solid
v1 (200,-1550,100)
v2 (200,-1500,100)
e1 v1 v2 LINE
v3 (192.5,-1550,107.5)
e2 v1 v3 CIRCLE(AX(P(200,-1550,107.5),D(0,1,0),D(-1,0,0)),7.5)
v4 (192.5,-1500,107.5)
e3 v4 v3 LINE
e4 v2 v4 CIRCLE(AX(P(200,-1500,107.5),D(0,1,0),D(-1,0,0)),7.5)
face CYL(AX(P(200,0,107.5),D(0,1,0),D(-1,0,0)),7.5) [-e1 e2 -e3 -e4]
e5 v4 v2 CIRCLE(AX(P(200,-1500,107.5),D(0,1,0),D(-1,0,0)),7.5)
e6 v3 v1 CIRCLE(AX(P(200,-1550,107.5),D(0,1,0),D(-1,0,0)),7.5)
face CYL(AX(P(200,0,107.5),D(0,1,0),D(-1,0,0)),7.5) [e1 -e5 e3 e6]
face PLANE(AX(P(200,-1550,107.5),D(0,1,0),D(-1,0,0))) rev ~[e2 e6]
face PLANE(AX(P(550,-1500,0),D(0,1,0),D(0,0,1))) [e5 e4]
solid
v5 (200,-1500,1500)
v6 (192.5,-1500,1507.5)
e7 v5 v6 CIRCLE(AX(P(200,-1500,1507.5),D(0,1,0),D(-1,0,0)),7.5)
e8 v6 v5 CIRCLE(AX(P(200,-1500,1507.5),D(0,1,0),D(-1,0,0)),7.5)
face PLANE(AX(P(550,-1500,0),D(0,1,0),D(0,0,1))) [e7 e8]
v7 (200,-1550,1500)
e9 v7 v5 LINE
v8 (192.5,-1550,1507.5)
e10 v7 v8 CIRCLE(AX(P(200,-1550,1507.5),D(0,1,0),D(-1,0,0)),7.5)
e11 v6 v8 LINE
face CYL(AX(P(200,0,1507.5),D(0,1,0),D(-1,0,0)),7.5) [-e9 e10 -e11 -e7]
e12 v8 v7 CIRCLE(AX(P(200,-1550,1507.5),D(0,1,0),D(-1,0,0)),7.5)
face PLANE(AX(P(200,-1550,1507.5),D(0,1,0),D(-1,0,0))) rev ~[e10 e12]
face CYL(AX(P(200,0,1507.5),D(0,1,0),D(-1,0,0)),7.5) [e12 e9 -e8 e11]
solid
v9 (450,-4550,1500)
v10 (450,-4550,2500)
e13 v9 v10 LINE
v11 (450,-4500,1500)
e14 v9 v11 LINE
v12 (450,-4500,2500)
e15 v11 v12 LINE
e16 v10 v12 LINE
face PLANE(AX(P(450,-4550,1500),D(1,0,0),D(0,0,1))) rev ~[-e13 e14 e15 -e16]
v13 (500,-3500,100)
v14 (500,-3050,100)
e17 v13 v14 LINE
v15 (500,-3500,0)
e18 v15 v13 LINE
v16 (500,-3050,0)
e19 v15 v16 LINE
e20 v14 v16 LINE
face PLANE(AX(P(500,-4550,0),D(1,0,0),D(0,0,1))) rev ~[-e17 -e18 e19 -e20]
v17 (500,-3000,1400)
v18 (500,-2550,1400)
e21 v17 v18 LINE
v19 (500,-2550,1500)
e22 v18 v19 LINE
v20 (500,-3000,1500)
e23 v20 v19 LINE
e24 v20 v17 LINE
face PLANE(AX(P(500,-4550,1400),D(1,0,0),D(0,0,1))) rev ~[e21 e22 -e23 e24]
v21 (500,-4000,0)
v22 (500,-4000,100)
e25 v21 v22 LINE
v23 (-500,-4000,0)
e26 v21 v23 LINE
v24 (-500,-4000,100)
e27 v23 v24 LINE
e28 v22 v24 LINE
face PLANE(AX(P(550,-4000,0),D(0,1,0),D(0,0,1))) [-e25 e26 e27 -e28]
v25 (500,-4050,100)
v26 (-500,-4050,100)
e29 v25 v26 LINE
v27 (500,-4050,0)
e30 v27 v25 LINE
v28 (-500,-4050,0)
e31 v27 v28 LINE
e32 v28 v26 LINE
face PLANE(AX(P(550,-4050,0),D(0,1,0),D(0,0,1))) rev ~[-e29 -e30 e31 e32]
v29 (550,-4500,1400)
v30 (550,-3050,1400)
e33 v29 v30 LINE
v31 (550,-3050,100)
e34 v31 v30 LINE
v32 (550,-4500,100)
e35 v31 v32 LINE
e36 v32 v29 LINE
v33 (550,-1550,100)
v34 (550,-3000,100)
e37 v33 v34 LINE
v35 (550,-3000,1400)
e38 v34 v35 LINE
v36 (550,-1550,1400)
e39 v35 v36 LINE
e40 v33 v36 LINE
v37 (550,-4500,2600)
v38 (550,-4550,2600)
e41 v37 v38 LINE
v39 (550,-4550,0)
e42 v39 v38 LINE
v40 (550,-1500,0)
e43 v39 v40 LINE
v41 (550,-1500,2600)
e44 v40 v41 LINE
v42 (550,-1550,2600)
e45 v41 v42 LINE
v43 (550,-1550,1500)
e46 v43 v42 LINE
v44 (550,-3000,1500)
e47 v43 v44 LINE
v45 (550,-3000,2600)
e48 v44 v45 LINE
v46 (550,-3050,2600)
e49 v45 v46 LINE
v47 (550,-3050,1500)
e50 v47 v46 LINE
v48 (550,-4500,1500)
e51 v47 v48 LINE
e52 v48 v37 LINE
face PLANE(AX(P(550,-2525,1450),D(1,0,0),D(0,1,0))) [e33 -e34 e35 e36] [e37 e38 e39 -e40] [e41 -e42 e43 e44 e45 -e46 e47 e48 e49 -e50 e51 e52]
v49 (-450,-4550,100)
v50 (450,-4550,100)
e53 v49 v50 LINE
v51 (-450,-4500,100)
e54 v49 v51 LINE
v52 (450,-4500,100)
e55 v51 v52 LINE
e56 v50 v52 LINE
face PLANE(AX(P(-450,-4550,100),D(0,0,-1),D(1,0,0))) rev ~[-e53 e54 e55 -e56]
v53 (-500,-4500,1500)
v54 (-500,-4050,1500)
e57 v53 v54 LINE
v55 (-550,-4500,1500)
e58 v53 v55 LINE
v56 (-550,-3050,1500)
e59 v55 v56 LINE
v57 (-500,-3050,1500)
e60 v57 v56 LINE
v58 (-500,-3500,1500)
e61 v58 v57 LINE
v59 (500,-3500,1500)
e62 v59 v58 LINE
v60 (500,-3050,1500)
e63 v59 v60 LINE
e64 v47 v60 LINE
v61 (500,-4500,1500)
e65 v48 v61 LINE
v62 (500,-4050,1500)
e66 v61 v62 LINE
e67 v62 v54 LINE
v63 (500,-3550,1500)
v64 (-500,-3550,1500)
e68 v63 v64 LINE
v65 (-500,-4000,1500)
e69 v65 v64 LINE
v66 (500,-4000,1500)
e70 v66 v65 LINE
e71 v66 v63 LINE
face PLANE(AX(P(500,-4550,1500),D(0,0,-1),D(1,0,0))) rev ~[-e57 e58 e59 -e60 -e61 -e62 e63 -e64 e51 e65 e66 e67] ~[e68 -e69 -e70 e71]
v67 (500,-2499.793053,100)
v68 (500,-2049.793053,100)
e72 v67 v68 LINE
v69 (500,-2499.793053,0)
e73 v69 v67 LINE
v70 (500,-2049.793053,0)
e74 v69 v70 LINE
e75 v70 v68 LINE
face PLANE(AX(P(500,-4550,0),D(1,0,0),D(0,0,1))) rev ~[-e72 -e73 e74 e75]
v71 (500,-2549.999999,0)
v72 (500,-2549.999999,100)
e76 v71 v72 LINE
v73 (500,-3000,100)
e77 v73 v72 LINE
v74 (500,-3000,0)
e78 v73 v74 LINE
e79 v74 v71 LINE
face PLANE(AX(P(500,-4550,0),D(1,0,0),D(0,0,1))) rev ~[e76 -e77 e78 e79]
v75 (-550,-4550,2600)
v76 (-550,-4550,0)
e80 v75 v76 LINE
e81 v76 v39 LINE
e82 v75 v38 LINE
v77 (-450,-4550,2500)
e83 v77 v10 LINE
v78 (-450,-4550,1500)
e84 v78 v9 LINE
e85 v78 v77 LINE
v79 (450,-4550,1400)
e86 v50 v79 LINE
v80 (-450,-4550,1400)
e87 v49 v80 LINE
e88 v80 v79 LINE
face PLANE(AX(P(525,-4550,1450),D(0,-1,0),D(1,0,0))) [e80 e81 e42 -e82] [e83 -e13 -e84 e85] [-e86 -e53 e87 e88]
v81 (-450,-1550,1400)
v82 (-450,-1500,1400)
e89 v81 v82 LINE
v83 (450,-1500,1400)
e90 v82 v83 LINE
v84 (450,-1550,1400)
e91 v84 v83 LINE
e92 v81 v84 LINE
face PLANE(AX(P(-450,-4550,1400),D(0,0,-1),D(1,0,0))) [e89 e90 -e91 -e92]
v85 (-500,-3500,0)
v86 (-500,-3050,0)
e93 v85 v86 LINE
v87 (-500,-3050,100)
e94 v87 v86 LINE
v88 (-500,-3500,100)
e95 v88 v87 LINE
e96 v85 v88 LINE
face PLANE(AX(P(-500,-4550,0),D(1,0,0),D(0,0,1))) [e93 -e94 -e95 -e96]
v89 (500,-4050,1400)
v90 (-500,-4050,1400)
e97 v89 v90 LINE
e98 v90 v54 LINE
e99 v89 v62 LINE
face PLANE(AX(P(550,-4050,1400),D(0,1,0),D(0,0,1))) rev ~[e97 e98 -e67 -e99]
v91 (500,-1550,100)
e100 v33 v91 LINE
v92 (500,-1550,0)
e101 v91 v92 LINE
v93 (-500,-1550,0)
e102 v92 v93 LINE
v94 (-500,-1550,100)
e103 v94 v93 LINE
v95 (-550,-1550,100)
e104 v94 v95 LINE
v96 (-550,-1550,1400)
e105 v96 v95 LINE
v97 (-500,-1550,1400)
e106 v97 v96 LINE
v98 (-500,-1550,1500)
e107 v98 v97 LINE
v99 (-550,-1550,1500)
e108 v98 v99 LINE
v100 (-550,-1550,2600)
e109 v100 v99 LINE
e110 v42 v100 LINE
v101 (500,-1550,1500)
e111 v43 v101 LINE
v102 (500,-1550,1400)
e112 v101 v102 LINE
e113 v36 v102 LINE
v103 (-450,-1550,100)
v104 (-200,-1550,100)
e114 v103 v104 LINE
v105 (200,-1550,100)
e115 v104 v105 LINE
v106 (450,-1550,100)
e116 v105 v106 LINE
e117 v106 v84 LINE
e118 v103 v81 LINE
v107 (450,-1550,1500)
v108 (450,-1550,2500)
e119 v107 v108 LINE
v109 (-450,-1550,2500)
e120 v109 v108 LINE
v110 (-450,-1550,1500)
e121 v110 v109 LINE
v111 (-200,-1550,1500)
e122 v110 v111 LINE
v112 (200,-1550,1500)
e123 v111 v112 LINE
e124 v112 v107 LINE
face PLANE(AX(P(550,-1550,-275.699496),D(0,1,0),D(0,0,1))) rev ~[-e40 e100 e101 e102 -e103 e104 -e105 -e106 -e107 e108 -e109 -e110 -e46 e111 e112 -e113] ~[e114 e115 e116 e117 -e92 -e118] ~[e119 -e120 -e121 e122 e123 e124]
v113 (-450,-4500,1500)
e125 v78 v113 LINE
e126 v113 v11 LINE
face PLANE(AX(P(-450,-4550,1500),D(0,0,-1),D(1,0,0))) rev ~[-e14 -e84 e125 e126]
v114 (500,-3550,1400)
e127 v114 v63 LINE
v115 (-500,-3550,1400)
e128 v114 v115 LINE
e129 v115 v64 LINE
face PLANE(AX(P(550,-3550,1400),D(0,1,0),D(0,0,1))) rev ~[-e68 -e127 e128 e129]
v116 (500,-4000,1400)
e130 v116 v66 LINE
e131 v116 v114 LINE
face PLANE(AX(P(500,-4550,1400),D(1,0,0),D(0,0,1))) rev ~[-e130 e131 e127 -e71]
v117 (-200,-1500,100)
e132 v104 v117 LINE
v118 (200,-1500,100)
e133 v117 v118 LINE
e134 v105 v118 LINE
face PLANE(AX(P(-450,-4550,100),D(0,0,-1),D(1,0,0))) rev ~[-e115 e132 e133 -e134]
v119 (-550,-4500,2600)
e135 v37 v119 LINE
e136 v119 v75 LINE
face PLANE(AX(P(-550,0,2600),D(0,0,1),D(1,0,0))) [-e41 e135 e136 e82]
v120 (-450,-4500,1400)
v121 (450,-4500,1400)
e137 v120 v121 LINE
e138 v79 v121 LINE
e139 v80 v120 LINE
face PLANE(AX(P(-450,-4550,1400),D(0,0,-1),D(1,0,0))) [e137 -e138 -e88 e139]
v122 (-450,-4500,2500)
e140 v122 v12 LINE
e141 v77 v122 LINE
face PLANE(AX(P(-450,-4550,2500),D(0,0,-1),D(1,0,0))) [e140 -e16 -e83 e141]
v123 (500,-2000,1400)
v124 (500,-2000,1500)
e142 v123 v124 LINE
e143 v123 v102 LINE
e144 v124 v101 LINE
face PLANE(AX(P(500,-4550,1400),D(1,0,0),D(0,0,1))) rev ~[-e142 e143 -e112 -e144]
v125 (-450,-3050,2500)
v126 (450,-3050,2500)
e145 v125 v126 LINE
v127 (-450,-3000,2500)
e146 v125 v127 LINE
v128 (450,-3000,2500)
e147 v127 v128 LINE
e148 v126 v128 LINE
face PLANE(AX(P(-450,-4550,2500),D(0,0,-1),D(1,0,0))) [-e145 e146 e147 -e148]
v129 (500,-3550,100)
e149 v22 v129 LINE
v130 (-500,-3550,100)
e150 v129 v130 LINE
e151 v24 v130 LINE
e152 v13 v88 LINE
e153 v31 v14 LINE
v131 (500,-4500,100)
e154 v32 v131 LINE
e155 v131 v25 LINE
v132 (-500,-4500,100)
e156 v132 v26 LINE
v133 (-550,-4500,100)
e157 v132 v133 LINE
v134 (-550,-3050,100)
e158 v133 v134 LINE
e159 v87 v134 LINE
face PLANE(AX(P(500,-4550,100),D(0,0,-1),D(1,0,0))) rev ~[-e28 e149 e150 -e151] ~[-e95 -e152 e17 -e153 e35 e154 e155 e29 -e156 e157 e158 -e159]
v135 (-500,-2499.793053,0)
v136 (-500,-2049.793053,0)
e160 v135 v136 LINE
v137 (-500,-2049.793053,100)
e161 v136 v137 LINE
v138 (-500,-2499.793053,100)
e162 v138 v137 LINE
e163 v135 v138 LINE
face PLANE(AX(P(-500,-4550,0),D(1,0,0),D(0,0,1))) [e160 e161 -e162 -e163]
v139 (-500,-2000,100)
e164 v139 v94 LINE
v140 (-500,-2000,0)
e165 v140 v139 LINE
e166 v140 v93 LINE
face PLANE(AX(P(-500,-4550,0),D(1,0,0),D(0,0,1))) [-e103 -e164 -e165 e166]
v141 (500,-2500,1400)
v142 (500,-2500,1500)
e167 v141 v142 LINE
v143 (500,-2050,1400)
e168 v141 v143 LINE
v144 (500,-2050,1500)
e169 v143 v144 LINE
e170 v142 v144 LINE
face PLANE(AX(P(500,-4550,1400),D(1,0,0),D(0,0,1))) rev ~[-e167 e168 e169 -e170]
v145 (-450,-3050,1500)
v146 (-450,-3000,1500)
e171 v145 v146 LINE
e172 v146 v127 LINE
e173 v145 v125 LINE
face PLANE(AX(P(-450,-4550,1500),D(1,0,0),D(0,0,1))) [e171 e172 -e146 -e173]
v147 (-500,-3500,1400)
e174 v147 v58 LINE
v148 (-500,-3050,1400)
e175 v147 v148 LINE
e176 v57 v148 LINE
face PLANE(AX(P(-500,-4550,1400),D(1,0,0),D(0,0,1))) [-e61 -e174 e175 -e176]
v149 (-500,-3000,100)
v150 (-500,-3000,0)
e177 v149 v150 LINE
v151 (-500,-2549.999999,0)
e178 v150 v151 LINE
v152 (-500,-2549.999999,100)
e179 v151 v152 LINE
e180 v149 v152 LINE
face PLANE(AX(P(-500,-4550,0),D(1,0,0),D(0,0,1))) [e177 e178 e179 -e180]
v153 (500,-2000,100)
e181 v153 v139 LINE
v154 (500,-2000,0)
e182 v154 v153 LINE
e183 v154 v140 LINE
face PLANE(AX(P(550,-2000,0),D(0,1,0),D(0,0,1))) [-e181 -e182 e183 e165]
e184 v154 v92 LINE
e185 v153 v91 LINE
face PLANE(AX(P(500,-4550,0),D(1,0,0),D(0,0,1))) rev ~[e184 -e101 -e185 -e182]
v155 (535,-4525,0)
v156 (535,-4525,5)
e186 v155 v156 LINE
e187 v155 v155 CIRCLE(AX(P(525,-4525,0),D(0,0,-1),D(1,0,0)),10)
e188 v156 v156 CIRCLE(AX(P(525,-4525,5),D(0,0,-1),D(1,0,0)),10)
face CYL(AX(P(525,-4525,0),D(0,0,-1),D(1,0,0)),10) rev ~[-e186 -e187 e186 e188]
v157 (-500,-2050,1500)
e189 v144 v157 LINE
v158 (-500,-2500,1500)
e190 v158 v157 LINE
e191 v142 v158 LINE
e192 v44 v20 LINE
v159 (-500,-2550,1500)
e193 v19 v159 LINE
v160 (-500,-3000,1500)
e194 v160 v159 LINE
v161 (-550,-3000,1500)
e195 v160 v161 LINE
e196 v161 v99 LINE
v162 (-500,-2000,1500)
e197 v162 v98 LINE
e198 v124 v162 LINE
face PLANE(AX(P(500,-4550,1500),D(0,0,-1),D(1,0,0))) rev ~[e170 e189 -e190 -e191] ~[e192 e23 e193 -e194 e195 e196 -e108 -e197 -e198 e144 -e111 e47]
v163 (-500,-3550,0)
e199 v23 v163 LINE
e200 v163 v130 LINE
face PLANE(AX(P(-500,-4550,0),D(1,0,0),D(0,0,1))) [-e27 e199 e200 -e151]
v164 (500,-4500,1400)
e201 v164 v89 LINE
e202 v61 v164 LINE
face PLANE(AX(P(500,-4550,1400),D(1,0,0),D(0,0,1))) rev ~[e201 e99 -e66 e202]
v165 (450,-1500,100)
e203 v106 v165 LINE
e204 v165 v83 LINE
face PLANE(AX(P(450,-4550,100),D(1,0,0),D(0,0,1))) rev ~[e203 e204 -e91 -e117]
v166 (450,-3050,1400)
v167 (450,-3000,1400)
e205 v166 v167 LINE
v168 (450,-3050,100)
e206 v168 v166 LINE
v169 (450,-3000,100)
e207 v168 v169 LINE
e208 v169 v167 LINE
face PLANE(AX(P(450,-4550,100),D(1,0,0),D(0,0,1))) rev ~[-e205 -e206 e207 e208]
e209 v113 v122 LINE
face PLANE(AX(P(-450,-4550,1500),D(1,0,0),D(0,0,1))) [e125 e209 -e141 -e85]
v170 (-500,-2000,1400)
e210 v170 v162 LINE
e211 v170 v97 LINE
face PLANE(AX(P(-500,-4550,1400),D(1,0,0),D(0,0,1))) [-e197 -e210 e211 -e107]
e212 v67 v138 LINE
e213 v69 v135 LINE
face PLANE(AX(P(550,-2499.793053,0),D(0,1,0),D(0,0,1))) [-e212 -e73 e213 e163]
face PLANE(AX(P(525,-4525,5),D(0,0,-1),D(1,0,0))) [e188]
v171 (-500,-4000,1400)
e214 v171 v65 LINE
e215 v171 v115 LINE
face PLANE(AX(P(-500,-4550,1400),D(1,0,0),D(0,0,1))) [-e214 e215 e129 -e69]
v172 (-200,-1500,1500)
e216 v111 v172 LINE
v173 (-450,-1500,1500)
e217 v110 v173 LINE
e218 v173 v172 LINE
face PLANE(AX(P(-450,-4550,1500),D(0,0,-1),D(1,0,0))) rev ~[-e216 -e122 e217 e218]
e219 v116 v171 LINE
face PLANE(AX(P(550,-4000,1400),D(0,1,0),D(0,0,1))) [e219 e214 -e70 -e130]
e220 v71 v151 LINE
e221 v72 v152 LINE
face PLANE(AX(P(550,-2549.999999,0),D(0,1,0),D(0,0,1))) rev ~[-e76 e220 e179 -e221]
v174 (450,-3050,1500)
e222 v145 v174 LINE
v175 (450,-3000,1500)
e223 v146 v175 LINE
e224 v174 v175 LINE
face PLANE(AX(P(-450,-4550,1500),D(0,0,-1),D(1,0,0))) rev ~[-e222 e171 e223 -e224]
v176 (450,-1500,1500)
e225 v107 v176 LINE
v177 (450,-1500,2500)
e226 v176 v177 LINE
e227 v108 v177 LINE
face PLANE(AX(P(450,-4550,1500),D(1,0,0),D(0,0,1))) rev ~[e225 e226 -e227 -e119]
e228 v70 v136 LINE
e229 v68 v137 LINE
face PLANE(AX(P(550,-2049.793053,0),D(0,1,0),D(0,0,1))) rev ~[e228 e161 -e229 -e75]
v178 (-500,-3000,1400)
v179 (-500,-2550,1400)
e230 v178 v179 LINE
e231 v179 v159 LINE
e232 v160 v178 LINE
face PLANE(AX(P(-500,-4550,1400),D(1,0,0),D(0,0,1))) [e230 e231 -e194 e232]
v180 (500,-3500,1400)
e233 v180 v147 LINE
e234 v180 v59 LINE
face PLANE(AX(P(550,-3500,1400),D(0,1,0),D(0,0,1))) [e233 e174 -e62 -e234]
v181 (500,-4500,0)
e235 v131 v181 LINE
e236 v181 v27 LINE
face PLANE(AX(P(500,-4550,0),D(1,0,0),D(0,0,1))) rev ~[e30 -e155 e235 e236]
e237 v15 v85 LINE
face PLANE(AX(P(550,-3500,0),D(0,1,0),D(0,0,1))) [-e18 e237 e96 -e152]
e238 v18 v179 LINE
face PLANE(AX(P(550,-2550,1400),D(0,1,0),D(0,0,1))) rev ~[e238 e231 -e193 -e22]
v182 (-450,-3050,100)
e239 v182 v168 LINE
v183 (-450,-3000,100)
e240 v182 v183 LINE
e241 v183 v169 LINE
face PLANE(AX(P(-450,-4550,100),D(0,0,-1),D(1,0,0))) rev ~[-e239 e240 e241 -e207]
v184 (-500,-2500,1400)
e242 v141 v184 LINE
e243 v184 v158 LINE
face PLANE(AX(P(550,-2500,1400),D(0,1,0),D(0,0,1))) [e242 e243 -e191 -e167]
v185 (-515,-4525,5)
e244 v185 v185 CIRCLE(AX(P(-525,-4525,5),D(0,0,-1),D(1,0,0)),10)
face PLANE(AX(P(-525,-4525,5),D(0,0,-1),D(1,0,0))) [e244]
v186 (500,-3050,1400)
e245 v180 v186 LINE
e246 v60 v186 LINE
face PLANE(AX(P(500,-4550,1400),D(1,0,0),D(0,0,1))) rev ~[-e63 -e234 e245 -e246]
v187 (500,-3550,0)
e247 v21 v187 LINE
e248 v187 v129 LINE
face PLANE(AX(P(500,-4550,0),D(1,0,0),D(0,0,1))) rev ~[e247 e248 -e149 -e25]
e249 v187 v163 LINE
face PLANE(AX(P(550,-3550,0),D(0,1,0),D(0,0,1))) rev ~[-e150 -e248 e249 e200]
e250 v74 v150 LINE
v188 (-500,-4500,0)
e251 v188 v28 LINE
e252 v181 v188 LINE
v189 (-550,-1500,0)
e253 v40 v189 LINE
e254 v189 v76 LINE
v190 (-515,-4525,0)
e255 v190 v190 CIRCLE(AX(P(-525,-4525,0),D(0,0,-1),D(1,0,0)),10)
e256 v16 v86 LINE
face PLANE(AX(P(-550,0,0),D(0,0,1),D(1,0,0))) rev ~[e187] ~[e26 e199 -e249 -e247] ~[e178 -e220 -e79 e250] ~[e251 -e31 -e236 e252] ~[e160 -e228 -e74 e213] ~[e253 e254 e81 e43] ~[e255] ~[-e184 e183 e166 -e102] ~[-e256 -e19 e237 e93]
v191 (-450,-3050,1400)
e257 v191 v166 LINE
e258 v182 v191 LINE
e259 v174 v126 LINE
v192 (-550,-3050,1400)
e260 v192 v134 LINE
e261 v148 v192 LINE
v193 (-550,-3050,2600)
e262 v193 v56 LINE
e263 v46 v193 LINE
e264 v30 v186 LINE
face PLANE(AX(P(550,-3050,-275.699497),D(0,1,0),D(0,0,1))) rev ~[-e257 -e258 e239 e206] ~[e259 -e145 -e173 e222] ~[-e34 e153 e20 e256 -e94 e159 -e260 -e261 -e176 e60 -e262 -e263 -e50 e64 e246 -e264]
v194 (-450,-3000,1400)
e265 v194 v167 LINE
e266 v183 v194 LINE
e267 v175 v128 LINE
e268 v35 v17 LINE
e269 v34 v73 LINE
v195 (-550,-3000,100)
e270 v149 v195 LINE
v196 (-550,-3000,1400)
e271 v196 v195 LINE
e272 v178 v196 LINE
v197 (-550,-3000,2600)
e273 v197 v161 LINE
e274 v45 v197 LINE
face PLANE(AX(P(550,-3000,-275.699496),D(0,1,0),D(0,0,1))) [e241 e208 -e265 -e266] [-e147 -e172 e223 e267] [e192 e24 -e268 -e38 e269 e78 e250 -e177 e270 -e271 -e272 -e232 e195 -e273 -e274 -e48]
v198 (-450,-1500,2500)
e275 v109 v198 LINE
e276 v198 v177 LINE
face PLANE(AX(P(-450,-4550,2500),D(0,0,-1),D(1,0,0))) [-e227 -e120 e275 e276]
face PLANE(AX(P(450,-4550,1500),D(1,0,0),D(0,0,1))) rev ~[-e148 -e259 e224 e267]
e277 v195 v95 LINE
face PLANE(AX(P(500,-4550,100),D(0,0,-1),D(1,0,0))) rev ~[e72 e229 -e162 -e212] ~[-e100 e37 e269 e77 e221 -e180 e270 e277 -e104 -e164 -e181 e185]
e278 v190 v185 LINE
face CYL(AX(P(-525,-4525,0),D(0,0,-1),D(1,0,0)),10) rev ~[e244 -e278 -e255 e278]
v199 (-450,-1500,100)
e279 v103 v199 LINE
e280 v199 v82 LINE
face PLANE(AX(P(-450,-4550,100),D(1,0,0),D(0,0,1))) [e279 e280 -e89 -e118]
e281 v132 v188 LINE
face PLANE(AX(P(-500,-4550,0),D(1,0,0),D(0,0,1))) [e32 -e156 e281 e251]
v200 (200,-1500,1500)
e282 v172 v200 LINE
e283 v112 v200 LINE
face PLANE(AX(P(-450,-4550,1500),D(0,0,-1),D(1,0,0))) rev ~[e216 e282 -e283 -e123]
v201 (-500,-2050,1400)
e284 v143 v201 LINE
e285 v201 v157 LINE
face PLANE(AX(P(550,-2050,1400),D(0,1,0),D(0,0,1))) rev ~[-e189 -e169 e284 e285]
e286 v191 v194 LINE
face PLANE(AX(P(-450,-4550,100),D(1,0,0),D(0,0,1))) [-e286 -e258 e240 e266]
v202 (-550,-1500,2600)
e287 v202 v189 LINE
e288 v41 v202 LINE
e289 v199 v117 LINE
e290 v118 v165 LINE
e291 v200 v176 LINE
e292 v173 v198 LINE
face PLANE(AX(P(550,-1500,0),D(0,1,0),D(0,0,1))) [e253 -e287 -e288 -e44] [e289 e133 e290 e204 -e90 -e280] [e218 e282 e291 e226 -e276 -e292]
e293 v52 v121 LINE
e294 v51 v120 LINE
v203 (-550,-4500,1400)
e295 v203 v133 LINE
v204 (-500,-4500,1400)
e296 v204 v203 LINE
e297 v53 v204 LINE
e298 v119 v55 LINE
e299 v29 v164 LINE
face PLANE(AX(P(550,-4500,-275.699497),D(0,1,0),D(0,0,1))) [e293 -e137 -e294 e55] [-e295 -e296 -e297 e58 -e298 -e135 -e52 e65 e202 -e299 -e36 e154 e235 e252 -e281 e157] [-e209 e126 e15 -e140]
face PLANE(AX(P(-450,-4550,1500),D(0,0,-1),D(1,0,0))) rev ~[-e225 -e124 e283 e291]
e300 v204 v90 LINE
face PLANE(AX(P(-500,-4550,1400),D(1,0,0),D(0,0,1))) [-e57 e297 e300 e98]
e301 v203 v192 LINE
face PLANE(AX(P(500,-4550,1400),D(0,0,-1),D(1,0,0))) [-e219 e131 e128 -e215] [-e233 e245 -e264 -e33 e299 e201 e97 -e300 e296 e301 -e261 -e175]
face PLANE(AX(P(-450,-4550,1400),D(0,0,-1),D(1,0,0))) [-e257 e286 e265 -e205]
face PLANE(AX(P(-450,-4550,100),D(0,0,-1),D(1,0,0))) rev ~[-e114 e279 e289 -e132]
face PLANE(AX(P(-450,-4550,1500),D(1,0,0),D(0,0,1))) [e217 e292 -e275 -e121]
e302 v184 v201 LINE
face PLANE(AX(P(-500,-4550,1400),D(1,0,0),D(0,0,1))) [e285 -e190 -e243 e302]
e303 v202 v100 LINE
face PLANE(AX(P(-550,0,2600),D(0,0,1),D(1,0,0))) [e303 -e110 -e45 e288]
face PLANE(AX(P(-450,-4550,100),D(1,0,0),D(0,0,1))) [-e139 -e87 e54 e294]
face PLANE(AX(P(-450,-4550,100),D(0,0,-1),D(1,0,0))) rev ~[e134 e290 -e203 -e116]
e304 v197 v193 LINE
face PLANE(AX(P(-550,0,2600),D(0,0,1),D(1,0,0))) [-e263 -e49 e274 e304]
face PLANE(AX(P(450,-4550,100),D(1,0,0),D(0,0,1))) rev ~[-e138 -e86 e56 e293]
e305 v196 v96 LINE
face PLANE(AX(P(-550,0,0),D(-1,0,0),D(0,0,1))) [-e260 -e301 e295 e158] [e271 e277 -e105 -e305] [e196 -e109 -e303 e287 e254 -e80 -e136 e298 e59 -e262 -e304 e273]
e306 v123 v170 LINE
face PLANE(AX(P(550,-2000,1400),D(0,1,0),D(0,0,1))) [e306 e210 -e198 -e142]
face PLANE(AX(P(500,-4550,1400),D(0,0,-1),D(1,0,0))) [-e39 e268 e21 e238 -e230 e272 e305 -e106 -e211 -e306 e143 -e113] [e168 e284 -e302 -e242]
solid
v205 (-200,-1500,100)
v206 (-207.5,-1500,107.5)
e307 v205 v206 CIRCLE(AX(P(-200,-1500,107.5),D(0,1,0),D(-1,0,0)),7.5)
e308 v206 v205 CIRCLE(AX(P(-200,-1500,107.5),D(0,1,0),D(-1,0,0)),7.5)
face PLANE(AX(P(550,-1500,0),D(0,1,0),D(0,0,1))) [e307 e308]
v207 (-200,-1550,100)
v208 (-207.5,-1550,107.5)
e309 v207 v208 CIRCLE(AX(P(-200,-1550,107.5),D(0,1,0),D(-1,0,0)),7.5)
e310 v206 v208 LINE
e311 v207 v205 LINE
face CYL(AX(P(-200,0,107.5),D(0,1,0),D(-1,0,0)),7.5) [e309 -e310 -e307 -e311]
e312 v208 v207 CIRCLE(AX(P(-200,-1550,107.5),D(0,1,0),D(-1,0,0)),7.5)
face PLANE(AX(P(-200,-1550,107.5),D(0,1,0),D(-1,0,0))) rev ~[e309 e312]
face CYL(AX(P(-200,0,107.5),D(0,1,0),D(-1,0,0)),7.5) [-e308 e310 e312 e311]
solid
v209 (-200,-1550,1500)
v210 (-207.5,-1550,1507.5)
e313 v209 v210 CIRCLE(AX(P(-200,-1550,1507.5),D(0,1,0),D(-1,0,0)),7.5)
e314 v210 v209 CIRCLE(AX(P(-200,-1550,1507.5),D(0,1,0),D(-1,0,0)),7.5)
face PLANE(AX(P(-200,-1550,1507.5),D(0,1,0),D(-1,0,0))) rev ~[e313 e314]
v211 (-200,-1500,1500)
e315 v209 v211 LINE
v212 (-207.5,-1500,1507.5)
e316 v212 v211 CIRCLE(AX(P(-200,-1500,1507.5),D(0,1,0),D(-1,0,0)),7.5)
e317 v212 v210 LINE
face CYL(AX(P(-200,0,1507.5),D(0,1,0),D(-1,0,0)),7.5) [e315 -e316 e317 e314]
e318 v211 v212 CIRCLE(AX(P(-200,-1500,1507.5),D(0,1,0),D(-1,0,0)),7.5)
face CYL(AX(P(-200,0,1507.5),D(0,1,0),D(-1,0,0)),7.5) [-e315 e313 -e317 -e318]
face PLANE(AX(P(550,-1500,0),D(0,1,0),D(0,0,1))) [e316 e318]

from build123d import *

# Parameters (mm, degrees)
F1_W      = 1100
F1_H      = 2600
F2_DEPTH  = 4550
F3_W      = 900
F3_H      = 1300
F3_H_2    = 1000
F4_DEPTH  = 20000
F5_W      = 1450
F5_H      = 4290.098786
F5_H_2    = 4287.803769
F6_DEPTH  = 2000
F7_W      = 50
F7_H      = 100
F8_DEPTH  = 4550
F10_W     = 50
F10_H     = 100
F10_W_2   = 50.206947
F10_W_3   = 49.793053
F11_DEPTH = 1050
F9_R      = 7.5
F12_DEPTH = 1550
F13_W     = 1620.942185
F13_H     = 2600
F14_DEPTH = 1200
F15_R     = 10
F16_DEPTH = 5


with BuildPart() as f2:
    # F1 (on Front) → F2 (new body)
    with BuildSketch(Plane.XZ):
        with Locations((0, 1300)):
            Rectangle(F1_W, F1_H)
    extrude(amount=F2_DEPTH)

    # F3 (on face) → F4 (cut)
    with BuildSketch(Plane.XZ.offset(4550)):
        with Locations((0, 750)):
            Rectangle(F3_W, F3_H)
        with Locations((0, 2000)):
            Rectangle(F3_W, F3_H_2)
    extrude(amount=-F4_DEPTH, mode=Mode.SUBTRACT)

    # F5 (on face) → F6 (cut)
    with BuildSketch(Plane.YZ.offset(550)):
        with Locations((-2275, 1869.349897)):
            Rectangle(F5_W, F5_H)
        with Locations((-3775, 1868.202388)):
            Rectangle(F5_W, F5_H_2)
    extrude(amount=-F6_DEPTH, mode=Mode.SUBTRACT)

    # F7 (on face) → F8 (join)
    with BuildSketch(Plane.XZ.offset(4550)):
        with Locations((525, 1450)):
            Rectangle(F7_W, F7_H)
        with Locations((-525, 1450)):
            Rectangle(F7_W, F7_H)
        with Locations((-525, 50)):
            Rectangle(F7_W, F7_H)
        with Locations((525, 50)):
            Rectangle(F7_W, F7_H)
    extrude(amount=-F8_DEPTH)

    # F10 (on face) → F11 (join, through all)
    with BuildSketch(Plane.YZ.offset(550)):
        with Locations((-2525, 1450)):
            Rectangle(F10_W, F10_H)
        with Locations((-2025, 1450)):
            Rectangle(F10_W, F10_H)
        with Locations((-4025, 1450)):
            Rectangle(F10_W, F10_H)
        with Locations((-3525, 1450)):
            Rectangle(F10_W, F10_H)
        with Locations((-4025, 50)):
            Rectangle(F10_W, F10_H)
        with Locations((-3525, 50)):
            Rectangle(F10_W, F10_H)
        with Locations((-2524.896526, 50)):
            Rectangle(F10_W_2, F10_H)
        with Locations((-2024.896526, 50)):
            Rectangle(F10_W_3, F10_H)
    extrude(amount=-F11_DEPTH)

    # F9 (on face) → F12 (join, through all)
    with BuildSketch(Plane(origin=(0, 0, 0), x_dir=(-1, 0, 0), z_dir=(0, 1, 0))):
        with Locations((200, 1507.5)):
            Circle(F9_R)
        with Locations((-200, 1507.5)):
            Circle(F9_R)
        with Locations((200, 107.5)):
            Circle(F9_R)
        with Locations((-200, 107.5)):
            Circle(F9_R)
    extrude(amount=-F12_DEPTH)

    # F13 (on face) → F14 (cut)
    with BuildSketch(Plane.YZ.offset(550)):
        with Locations((-689.528908, 1300)):
            Rectangle(F13_W, F13_H)
    extrude(amount=-F14_DEPTH, mode=Mode.SUBTRACT)

    # F15 (on face) → F16 (cut)
    with BuildSketch(Plane(origin=(0, 0, 0), x_dir=(1, 0, 0), z_dir=(0, 0, -1))):
        with Locations((525, 4525)):
            Circle(F15_R)
        with Locations((-525, 4525)):
            Circle(F15_R)
    extrude(amount=-F16_DEPTH, mode=Mode.SUBTRACT)


solid = f2.part
